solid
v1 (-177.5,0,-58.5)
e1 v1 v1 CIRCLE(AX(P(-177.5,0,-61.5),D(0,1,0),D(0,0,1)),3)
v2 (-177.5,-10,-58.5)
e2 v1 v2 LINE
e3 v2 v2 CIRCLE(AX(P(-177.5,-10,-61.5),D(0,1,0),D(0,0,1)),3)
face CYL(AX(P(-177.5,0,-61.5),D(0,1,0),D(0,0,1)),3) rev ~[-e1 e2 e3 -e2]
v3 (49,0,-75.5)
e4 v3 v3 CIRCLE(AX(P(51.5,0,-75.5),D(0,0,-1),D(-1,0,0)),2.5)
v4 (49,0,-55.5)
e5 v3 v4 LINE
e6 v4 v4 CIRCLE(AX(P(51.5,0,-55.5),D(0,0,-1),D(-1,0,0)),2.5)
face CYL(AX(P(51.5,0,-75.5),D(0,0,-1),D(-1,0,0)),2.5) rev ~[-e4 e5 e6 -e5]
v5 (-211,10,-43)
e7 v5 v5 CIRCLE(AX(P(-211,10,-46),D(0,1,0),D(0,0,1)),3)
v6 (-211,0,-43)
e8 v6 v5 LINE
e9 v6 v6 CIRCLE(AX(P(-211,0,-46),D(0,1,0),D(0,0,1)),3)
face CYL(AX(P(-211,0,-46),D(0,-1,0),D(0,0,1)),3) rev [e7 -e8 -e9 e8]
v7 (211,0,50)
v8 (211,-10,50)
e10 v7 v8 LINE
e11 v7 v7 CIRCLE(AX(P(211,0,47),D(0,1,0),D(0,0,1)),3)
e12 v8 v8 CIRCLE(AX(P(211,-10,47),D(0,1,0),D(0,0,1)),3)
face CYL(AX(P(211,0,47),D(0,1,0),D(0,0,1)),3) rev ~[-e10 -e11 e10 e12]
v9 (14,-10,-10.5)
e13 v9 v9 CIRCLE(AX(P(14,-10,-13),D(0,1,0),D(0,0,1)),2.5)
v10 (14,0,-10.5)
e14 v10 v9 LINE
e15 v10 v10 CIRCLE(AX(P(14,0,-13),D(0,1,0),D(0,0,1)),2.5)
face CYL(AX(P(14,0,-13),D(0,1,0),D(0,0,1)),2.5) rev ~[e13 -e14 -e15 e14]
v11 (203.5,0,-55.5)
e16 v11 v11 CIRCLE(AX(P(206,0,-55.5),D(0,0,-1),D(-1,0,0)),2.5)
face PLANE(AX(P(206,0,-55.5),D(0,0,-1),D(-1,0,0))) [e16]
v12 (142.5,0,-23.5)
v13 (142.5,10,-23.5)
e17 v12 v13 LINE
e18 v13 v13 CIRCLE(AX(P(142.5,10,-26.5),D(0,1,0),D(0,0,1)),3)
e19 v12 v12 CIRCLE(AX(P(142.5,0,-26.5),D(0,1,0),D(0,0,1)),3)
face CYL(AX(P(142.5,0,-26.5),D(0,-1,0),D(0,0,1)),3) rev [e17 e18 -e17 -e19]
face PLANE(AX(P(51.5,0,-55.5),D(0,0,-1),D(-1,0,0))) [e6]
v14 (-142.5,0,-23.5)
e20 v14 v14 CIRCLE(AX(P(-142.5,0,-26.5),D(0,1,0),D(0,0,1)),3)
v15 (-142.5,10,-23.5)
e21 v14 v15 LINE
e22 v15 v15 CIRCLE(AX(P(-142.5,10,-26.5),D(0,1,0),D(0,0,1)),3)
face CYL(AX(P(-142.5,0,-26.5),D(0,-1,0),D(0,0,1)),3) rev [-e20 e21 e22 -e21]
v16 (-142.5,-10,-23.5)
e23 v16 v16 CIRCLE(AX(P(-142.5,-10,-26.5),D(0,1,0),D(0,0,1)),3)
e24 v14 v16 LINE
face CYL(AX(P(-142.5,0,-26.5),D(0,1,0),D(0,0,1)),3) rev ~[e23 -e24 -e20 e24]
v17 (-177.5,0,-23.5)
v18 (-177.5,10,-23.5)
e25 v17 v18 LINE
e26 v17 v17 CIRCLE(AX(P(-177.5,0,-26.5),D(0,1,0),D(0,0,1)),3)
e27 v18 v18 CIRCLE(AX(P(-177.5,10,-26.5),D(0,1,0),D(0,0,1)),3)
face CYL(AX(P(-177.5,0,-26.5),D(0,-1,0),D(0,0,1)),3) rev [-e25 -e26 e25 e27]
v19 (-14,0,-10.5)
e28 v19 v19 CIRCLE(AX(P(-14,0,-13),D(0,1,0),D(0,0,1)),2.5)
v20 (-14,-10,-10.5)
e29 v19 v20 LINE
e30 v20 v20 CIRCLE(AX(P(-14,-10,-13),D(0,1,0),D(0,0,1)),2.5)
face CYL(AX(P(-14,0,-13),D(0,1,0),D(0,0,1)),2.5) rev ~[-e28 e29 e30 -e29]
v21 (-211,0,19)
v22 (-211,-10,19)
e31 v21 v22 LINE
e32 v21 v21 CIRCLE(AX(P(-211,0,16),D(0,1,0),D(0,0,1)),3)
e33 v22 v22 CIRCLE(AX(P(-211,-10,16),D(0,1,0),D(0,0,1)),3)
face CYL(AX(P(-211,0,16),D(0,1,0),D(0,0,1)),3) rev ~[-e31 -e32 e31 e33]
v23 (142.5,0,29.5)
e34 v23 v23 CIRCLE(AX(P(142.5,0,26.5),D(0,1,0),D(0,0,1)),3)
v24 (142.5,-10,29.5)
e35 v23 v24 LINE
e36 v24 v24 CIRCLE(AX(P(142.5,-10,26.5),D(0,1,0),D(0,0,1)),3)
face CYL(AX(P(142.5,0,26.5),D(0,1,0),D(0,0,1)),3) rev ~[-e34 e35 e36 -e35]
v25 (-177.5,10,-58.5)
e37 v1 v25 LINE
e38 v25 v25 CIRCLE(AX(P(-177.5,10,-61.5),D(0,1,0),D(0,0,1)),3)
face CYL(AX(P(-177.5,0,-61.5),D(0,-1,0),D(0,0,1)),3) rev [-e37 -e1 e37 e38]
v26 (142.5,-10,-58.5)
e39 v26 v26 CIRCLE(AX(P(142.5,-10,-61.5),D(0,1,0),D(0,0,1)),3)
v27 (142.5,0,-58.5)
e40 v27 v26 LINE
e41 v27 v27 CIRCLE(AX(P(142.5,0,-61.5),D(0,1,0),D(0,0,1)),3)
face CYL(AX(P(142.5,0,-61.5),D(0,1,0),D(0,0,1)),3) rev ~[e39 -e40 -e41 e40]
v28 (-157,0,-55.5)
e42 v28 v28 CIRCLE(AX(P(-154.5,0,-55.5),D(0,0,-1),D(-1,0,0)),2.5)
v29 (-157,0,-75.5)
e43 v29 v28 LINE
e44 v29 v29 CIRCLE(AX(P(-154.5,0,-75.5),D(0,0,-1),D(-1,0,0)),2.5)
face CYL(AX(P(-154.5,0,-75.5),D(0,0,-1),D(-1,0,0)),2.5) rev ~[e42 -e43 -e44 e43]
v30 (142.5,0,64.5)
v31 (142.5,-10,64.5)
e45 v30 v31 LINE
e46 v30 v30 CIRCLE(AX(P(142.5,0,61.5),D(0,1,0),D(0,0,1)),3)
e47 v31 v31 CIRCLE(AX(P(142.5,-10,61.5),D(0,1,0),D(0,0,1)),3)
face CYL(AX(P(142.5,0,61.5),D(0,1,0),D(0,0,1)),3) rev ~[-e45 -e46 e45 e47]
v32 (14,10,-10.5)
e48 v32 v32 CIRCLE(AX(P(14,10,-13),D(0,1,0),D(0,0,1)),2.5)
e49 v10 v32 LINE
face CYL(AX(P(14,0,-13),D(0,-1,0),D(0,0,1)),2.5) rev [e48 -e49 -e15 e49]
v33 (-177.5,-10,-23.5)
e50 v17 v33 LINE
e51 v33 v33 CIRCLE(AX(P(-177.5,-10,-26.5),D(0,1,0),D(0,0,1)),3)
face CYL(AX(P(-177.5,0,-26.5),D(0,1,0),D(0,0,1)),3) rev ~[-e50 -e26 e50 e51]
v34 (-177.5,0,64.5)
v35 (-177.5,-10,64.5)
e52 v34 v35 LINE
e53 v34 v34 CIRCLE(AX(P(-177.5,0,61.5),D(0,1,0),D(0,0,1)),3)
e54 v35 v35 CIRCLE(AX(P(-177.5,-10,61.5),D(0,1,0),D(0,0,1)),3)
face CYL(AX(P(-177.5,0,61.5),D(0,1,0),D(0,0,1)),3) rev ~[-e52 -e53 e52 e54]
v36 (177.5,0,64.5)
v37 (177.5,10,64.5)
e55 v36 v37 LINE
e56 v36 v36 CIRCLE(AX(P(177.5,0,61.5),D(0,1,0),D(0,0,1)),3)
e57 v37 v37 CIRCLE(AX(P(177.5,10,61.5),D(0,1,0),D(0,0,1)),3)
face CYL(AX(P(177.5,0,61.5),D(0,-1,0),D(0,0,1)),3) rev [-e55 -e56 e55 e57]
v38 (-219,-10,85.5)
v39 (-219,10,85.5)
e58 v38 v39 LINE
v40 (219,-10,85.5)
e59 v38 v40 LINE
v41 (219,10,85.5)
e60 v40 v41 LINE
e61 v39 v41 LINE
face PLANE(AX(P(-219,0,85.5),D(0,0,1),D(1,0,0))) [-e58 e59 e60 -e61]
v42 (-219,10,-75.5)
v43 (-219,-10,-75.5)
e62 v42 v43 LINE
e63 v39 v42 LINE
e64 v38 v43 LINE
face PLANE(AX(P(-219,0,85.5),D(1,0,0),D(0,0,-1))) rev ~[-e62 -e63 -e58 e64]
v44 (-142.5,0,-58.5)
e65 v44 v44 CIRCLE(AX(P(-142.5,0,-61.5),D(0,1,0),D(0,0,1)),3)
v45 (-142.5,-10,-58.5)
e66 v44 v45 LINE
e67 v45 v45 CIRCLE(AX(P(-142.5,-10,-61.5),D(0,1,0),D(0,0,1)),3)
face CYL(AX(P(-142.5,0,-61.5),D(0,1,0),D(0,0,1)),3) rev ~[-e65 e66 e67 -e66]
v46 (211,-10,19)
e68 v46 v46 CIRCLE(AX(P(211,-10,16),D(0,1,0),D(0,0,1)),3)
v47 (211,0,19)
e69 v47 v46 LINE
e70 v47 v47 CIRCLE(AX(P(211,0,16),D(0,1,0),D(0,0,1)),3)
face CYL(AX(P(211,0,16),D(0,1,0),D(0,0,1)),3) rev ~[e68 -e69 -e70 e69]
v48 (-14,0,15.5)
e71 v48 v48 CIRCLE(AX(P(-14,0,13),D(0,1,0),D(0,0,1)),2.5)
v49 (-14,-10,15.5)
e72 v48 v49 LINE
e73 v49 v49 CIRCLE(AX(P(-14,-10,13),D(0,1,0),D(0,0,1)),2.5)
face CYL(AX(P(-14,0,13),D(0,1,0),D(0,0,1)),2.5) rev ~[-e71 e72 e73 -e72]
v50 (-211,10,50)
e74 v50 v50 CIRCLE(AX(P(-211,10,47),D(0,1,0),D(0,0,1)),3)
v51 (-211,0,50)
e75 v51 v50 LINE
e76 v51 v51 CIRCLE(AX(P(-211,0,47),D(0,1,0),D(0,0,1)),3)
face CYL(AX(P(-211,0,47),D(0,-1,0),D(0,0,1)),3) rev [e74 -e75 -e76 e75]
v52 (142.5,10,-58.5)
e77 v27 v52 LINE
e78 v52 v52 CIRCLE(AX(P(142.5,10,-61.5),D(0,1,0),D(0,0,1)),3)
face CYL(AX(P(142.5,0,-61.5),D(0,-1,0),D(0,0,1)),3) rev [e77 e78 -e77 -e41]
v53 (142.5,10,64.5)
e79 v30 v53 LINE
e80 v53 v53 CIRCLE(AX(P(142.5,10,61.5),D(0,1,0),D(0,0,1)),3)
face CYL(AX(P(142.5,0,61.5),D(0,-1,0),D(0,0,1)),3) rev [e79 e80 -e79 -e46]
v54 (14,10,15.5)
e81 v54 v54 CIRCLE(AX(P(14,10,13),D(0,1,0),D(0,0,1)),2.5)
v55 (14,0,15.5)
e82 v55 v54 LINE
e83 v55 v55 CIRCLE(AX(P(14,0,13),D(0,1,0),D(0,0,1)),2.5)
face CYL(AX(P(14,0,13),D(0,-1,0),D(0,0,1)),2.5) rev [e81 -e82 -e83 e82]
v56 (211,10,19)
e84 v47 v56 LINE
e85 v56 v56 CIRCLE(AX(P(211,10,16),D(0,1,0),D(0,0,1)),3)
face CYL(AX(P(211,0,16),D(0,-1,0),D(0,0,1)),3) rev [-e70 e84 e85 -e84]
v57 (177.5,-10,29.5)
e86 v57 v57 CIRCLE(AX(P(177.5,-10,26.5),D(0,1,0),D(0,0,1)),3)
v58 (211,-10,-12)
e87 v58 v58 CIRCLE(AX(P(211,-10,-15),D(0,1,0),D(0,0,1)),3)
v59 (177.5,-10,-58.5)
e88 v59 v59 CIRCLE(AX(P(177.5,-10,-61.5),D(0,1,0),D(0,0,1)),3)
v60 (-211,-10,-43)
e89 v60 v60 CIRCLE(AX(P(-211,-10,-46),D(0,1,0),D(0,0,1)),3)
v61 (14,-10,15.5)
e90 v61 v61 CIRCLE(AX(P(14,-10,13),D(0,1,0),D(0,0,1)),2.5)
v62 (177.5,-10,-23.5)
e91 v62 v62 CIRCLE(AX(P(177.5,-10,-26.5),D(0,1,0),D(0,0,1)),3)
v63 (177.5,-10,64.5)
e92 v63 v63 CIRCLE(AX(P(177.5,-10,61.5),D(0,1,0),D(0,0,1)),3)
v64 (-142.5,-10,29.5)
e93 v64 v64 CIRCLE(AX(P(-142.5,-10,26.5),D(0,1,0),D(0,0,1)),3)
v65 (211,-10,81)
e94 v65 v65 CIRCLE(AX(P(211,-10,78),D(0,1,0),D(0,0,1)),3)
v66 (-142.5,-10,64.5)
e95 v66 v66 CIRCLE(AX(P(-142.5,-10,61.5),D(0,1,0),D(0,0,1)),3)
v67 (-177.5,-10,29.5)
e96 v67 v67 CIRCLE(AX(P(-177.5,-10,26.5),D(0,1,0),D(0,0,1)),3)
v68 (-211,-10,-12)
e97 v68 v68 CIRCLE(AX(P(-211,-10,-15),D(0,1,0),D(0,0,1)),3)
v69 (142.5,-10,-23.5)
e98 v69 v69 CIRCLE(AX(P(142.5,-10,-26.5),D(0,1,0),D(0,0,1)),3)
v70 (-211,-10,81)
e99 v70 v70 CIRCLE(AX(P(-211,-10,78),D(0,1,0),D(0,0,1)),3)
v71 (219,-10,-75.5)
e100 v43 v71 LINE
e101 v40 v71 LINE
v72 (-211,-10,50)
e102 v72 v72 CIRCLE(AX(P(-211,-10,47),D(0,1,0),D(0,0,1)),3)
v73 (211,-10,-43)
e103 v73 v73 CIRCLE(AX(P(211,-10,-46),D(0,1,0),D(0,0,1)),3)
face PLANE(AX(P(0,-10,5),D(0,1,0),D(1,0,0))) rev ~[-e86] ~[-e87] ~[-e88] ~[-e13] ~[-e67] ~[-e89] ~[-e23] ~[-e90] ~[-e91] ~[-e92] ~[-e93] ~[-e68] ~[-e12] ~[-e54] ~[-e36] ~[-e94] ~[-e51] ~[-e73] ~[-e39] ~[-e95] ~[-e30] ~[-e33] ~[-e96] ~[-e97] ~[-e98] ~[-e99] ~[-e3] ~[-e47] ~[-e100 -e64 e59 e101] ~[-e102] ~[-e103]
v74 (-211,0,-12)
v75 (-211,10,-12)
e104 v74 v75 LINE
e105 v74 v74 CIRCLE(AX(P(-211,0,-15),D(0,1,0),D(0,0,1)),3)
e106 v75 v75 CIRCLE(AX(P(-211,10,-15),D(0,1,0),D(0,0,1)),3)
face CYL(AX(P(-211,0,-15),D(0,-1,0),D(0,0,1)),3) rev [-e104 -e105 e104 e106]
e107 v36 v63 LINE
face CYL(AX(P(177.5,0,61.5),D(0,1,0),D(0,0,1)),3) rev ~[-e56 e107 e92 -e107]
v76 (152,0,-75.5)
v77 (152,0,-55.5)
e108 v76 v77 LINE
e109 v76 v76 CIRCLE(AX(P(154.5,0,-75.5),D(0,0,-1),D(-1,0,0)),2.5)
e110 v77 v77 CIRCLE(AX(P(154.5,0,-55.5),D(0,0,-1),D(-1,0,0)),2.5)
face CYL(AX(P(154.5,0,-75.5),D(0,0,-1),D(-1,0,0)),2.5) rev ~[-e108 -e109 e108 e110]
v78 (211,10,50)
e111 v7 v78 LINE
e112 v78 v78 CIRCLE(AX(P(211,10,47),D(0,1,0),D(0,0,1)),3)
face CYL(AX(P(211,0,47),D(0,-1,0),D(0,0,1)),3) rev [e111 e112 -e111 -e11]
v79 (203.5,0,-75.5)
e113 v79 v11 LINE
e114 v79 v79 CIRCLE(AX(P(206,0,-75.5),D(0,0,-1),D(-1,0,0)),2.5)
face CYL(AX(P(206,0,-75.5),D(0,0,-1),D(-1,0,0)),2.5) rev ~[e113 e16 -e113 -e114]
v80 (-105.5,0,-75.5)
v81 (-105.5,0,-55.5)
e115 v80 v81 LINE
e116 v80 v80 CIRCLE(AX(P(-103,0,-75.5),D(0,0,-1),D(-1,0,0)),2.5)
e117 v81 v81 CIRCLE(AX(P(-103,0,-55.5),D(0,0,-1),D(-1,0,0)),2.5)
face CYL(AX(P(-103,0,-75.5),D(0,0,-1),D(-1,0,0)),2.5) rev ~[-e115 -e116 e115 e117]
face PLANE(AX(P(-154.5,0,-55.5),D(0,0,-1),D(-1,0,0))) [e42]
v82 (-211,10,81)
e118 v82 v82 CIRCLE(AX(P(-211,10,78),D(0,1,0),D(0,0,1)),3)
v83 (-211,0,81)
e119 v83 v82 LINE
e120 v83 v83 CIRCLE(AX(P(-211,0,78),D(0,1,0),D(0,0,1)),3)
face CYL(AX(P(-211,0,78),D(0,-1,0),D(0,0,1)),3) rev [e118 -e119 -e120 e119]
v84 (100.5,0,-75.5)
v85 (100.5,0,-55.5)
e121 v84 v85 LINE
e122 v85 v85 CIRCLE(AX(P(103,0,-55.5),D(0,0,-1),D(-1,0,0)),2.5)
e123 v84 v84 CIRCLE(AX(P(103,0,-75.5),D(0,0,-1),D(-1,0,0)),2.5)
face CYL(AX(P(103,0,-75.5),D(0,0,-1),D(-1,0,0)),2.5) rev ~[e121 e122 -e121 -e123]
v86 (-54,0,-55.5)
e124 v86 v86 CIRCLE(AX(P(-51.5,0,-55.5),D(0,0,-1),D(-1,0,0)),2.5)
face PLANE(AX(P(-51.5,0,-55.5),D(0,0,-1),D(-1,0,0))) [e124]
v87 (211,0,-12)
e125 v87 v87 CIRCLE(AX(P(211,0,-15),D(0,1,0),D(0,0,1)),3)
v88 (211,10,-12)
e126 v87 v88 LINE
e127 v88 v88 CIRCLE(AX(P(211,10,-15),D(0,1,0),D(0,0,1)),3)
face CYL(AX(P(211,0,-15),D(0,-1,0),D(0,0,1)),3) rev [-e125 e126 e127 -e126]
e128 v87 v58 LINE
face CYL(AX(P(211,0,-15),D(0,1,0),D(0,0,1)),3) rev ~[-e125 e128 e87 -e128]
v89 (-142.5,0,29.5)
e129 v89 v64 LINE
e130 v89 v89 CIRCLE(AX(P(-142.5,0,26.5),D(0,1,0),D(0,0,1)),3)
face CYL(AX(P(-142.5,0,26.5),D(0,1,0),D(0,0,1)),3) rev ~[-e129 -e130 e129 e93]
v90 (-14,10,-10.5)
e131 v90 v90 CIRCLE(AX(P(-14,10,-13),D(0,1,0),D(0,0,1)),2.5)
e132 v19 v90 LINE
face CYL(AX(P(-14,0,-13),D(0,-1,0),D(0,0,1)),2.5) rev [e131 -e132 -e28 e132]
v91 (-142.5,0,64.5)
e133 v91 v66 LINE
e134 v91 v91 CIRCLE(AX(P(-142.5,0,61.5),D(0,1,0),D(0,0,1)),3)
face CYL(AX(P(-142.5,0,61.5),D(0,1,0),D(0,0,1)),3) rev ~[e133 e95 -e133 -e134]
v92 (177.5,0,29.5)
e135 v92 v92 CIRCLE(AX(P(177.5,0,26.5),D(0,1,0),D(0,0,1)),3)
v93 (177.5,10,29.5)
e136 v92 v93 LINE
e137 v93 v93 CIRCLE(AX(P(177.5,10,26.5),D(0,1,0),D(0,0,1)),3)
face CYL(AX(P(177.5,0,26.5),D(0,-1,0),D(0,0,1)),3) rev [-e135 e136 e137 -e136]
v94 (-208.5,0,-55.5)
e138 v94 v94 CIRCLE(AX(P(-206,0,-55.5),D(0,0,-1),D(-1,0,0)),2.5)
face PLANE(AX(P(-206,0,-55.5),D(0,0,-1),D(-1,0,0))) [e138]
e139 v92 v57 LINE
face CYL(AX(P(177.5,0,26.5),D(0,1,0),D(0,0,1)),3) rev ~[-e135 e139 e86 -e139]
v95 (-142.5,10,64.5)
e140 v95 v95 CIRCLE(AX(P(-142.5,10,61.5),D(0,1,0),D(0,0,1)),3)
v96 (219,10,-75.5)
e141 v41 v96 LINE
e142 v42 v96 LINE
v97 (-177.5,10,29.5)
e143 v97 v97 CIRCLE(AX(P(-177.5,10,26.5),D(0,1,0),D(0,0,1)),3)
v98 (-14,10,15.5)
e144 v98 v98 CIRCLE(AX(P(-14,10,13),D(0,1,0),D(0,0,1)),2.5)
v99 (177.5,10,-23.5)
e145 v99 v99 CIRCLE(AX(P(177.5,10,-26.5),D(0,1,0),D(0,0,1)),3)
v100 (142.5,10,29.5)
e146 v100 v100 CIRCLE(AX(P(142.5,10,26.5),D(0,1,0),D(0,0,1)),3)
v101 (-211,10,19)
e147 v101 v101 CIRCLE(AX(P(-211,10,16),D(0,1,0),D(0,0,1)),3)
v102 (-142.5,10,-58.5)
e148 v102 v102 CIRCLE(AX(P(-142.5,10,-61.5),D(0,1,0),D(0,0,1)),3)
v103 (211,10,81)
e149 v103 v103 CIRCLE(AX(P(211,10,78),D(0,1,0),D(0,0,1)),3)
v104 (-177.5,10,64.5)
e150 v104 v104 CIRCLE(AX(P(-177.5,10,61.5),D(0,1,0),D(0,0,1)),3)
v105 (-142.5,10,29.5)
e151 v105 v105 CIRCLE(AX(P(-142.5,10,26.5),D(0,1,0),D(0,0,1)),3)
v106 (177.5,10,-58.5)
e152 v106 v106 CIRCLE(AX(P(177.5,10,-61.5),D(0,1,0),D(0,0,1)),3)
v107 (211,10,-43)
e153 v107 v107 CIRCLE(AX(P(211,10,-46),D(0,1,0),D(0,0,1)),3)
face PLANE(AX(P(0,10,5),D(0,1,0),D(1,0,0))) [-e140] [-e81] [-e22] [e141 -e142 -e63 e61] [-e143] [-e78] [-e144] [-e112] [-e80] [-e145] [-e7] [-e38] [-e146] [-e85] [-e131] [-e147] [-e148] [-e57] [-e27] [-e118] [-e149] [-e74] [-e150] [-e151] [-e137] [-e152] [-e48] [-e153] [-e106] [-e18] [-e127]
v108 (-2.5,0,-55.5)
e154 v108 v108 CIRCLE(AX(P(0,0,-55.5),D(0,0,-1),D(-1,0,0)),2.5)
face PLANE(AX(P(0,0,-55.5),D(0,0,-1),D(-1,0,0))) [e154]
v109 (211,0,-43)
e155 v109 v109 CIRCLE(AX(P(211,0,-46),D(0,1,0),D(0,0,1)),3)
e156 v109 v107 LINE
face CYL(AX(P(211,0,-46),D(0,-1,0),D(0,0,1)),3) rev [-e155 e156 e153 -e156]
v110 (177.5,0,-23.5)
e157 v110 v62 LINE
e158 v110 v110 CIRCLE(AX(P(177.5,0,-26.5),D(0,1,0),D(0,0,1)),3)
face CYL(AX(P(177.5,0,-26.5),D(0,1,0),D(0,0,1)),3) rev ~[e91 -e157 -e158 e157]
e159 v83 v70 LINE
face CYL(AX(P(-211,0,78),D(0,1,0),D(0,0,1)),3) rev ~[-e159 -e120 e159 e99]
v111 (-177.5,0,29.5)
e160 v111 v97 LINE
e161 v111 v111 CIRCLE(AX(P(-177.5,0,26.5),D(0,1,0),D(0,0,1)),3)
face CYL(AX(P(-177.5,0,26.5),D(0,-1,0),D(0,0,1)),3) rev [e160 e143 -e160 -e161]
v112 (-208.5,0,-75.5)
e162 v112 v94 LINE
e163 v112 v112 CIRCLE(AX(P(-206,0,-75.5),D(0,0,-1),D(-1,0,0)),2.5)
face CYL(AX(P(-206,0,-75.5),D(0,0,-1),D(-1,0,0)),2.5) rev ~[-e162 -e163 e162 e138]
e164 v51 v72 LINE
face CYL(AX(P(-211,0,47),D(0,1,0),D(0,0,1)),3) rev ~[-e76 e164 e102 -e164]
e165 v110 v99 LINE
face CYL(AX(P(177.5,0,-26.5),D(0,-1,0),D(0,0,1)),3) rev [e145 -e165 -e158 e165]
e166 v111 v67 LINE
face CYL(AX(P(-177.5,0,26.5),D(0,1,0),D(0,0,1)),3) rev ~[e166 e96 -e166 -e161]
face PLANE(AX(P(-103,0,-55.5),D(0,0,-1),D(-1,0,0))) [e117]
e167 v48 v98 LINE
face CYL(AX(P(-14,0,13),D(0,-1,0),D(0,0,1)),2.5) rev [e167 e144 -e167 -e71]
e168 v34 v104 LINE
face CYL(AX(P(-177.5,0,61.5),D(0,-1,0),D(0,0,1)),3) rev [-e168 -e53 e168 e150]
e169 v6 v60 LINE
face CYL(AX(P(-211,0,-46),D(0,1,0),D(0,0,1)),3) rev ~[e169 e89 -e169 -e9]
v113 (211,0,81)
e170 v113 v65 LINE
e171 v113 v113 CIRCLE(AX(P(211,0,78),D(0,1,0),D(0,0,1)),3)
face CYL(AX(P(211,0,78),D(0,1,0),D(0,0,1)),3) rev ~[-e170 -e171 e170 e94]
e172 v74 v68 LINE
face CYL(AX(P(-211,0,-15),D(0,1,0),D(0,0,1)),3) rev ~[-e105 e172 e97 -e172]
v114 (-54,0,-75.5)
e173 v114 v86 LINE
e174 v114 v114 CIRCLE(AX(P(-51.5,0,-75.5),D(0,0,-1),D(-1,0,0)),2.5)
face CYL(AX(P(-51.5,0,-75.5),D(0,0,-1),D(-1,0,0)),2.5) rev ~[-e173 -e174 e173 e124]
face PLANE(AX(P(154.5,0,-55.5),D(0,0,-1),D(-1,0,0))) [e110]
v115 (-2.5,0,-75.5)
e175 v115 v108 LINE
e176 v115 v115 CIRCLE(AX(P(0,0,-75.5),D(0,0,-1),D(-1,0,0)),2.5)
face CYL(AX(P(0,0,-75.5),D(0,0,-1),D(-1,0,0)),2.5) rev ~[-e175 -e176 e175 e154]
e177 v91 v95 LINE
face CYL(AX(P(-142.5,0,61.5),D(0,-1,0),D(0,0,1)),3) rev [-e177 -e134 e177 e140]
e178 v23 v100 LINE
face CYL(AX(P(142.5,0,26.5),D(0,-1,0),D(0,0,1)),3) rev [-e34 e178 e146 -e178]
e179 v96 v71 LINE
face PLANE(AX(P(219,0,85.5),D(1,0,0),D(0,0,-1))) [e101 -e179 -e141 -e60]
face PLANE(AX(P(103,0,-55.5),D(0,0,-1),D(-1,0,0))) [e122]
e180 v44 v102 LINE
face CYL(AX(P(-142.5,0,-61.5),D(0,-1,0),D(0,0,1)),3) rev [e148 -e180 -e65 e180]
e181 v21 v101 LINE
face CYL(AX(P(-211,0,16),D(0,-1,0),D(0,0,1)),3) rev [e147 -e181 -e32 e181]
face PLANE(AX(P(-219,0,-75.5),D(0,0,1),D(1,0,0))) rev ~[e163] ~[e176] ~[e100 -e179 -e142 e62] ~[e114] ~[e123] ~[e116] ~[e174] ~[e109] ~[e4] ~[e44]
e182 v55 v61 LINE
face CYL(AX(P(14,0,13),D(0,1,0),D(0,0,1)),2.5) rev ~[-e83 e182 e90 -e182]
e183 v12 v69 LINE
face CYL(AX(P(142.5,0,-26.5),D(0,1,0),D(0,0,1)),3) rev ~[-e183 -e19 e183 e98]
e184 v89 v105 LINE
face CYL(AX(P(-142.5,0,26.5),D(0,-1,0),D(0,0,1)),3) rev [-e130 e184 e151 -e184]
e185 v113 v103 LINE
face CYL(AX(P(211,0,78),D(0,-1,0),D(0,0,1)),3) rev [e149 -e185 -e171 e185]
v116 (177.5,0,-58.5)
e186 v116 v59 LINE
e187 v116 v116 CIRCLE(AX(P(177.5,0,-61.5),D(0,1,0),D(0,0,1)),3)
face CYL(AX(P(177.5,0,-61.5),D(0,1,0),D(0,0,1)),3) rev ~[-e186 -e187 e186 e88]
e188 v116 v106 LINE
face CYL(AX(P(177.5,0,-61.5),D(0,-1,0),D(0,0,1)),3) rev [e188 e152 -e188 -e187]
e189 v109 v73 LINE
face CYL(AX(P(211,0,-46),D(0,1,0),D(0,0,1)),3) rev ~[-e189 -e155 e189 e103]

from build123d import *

# Parameters (mm, degrees)
ESQUISSE1_W             = 438
ESQUISSE1_H             = 161
ESQUISSE1_R             = 3
ESQUISSE1_R_2           = 2.5
BOSS_EXTRU_1_DEPTH      = 10
BOSS_EXTRU_1_DEPTH_BACK = 10
ESQUISSE2_R             = 2.5
ENL_V_MAT_EXTRU_1_DEPTH = 20


with BuildPart() as part:
    # Esquisse1 → Boss.-Extru.1 (new body, two sides)
    with BuildSketch(Plane(origin=(0, 0, 0), x_dir=(1, 0, 0), z_dir=(0, 1, 0))) as boss_extru_1_sk:
        with Locations((0, -5)):
            Rectangle(ESQUISSE1_W, ESQUISSE1_H)
        with Locations(Location((177.5, -61.5, 0), (0, 0, 270))):  # turned: the seam where the file's is
            Circle(ESQUISSE1_R, mode=Mode.SUBTRACT)
        with Locations(Location((177.5, -26.5, 0), (0, 0, 270))):  # turned: the seam where the file's is
            Circle(ESQUISSE1_R, mode=Mode.SUBTRACT)
        with Locations(Location((142.5, -26.5, 0), (0, 0, 270))):  # turned: the seam where the file's is
            Circle(ESQUISSE1_R, mode=Mode.SUBTRACT)
        with Locations(Location((142.5, -61.5, 0), (0, 0, 270))):  # turned: the seam where the file's is
            Circle(ESQUISSE1_R, mode=Mode.SUBTRACT)
        with Locations(Location((142.5, 26.5, 0), (0, 0, 270))):  # turned: the seam where the file's is
            Circle(ESQUISSE1_R, mode=Mode.SUBTRACT)
        with Locations(Location((142.5, 61.5, 0), (0, 0, 270))):  # turned: the seam where the file's is
            Circle(ESQUISSE1_R, mode=Mode.SUBTRACT)
        with Locations(Location((177.5, 61.5, 0), (0, 0, 270))):  # turned: the seam where the file's is
            Circle(ESQUISSE1_R, mode=Mode.SUBTRACT)
        with Locations(Location((177.5, 26.5, 0), (0, 0, 270))):  # turned: the seam where the file's is
            Circle(ESQUISSE1_R, mode=Mode.SUBTRACT)
        with Locations(Location((-142.5, 61.5, 0), (0, 0, 270))):  # turned: the seam where the file's is
            Circle(ESQUISSE1_R, mode=Mode.SUBTRACT)
        with Locations(Location((-177.5, 61.5, 0), (0, 0, 270))):  # turned: the seam where the file's is
            Circle(ESQUISSE1_R, mode=Mode.SUBTRACT)
        with Locations(Location((-177.5, 26.5, 0), (0, 0, 270))):  # turned: the seam where the file's is
            Circle(ESQUISSE1_R, mode=Mode.SUBTRACT)
        with Locations(Location((-142.5, 26.5, 0), (0, 0, 270))):  # turned: the seam where the file's is
            Circle(ESQUISSE1_R, mode=Mode.SUBTRACT)
        with Locations(Location((-142.5, -26.5, 0), (0, 0, 270))):  # turned: the seam where the file's is
            Circle(ESQUISSE1_R, mode=Mode.SUBTRACT)
        with Locations(Location((-177.5, -26.5, 0), (0, 0, 270))):  # turned: the seam where the file's is
            Circle(ESQUISSE1_R, mode=Mode.SUBTRACT)
        with Locations(Location((-177.5, -61.5, 0), (0, 0, 270))):  # turned: the seam where the file's is
            Circle(ESQUISSE1_R, mode=Mode.SUBTRACT)
        with Locations(Location((-142.5, -61.5, 0), (0, 0, 270))):  # turned: the seam where the file's is
            Circle(ESQUISSE1_R, mode=Mode.SUBTRACT)
        with Locations(Location((14, 13, 0), (0, 0, 270))):  # turned: the seam where the file's is
            Circle(ESQUISSE1_R_2, mode=Mode.SUBTRACT)
        with Locations(Location((-14, 13, 0), (0, 0, 270))):  # turned: the seam where the file's is
            Circle(ESQUISSE1_R_2, mode=Mode.SUBTRACT)
        with Locations(Location((-14, -13, 0), (0, 0, 270))):  # turned: the seam where the file's is
            Circle(ESQUISSE1_R_2, mode=Mode.SUBTRACT)
        with Locations(Location((14, -13, 0), (0, 0, 270))):  # turned: the seam where the file's is
            Circle(ESQUISSE1_R_2, mode=Mode.SUBTRACT)
        with Locations(Location((211, -78, 0), (0, 0, 270))):  # turned: the seam where the file's is
            Circle(ESQUISSE1_R, mode=Mode.SUBTRACT)
        with Locations(Location((211, 46, 0), (0, 0, 270))):  # turned: the seam where the file's is
            Circle(ESQUISSE1_R, mode=Mode.SUBTRACT)
        with Locations(Location((211, -16, 0), (0, 0, 270))):  # turned: the seam where the file's is
            Circle(ESQUISSE1_R, mode=Mode.SUBTRACT)
        with Locations(Location((211, 15, 0), (0, 0, 270))):  # turned: the seam where the file's is
            Circle(ESQUISSE1_R, mode=Mode.SUBTRACT)
        with Locations(Location((211, -47, 0), (0, 0, 270))):  # turned: the seam where the file's is
            Circle(ESQUISSE1_R, mode=Mode.SUBTRACT)
        with Locations(Location((-211, 46, 0), (0, 0, 270))):  # turned: the seam where the file's is
            Circle(ESQUISSE1_R, mode=Mode.SUBTRACT)
        with Locations(Location((-211, -16, 0), (0, 0, 270))):  # turned: the seam where the file's is
            Circle(ESQUISSE1_R, mode=Mode.SUBTRACT)
        with Locations(Location((-211, 15, 0), (0, 0, 270))):  # turned: the seam where the file's is
            Circle(ESQUISSE1_R, mode=Mode.SUBTRACT)
        with Locations(Location((-211, -47, 0), (0, 0, 270))):  # turned: the seam where the file's is
            Circle(ESQUISSE1_R, mode=Mode.SUBTRACT)
        with Locations(Location((-211, -78, 0), (0, 0, 270))):  # turned: the seam where the file's is
            Circle(ESQUISSE1_R, mode=Mode.SUBTRACT)
    extrude(amount=BOSS_EXTRU_1_DEPTH)
    extrude(boss_extru_1_sk.sketch, amount=-BOSS_EXTRU_1_DEPTH_BACK)

    # Esquisse2 → Enl_v. mat.-Extru.1 (cut)
    with BuildSketch(Plane(origin=(0, 0, -75.5), x_dir=(-1, 0, 0), z_dir=(0, 0, -1))):
        with Locations((-206, 0)):
            Circle(ESQUISSE2_R)
        Circle(ESQUISSE2_R)
        with Locations((-103, 0)):
            Circle(ESQUISSE2_R)
        with Locations((-154.5, 0)):
            Circle(ESQUISSE2_R)
        with Locations((-51.5, 0)):
            Circle(ESQUISSE2_R)
        with Locations((51.5, 0)):
            Circle(ESQUISSE2_R)
        with Locations((103, 0)):
            Circle(ESQUISSE2_R)
        with Locations((154.5, 0)):
            Circle(ESQUISSE2_R)
        with Locations((206, 0)):
            Circle(ESQUISSE2_R)
    extrude(amount=-ENL_V_MAT_EXTRU_1_DEPTH, mode=Mode.SUBTRACT)


solid = part.part
